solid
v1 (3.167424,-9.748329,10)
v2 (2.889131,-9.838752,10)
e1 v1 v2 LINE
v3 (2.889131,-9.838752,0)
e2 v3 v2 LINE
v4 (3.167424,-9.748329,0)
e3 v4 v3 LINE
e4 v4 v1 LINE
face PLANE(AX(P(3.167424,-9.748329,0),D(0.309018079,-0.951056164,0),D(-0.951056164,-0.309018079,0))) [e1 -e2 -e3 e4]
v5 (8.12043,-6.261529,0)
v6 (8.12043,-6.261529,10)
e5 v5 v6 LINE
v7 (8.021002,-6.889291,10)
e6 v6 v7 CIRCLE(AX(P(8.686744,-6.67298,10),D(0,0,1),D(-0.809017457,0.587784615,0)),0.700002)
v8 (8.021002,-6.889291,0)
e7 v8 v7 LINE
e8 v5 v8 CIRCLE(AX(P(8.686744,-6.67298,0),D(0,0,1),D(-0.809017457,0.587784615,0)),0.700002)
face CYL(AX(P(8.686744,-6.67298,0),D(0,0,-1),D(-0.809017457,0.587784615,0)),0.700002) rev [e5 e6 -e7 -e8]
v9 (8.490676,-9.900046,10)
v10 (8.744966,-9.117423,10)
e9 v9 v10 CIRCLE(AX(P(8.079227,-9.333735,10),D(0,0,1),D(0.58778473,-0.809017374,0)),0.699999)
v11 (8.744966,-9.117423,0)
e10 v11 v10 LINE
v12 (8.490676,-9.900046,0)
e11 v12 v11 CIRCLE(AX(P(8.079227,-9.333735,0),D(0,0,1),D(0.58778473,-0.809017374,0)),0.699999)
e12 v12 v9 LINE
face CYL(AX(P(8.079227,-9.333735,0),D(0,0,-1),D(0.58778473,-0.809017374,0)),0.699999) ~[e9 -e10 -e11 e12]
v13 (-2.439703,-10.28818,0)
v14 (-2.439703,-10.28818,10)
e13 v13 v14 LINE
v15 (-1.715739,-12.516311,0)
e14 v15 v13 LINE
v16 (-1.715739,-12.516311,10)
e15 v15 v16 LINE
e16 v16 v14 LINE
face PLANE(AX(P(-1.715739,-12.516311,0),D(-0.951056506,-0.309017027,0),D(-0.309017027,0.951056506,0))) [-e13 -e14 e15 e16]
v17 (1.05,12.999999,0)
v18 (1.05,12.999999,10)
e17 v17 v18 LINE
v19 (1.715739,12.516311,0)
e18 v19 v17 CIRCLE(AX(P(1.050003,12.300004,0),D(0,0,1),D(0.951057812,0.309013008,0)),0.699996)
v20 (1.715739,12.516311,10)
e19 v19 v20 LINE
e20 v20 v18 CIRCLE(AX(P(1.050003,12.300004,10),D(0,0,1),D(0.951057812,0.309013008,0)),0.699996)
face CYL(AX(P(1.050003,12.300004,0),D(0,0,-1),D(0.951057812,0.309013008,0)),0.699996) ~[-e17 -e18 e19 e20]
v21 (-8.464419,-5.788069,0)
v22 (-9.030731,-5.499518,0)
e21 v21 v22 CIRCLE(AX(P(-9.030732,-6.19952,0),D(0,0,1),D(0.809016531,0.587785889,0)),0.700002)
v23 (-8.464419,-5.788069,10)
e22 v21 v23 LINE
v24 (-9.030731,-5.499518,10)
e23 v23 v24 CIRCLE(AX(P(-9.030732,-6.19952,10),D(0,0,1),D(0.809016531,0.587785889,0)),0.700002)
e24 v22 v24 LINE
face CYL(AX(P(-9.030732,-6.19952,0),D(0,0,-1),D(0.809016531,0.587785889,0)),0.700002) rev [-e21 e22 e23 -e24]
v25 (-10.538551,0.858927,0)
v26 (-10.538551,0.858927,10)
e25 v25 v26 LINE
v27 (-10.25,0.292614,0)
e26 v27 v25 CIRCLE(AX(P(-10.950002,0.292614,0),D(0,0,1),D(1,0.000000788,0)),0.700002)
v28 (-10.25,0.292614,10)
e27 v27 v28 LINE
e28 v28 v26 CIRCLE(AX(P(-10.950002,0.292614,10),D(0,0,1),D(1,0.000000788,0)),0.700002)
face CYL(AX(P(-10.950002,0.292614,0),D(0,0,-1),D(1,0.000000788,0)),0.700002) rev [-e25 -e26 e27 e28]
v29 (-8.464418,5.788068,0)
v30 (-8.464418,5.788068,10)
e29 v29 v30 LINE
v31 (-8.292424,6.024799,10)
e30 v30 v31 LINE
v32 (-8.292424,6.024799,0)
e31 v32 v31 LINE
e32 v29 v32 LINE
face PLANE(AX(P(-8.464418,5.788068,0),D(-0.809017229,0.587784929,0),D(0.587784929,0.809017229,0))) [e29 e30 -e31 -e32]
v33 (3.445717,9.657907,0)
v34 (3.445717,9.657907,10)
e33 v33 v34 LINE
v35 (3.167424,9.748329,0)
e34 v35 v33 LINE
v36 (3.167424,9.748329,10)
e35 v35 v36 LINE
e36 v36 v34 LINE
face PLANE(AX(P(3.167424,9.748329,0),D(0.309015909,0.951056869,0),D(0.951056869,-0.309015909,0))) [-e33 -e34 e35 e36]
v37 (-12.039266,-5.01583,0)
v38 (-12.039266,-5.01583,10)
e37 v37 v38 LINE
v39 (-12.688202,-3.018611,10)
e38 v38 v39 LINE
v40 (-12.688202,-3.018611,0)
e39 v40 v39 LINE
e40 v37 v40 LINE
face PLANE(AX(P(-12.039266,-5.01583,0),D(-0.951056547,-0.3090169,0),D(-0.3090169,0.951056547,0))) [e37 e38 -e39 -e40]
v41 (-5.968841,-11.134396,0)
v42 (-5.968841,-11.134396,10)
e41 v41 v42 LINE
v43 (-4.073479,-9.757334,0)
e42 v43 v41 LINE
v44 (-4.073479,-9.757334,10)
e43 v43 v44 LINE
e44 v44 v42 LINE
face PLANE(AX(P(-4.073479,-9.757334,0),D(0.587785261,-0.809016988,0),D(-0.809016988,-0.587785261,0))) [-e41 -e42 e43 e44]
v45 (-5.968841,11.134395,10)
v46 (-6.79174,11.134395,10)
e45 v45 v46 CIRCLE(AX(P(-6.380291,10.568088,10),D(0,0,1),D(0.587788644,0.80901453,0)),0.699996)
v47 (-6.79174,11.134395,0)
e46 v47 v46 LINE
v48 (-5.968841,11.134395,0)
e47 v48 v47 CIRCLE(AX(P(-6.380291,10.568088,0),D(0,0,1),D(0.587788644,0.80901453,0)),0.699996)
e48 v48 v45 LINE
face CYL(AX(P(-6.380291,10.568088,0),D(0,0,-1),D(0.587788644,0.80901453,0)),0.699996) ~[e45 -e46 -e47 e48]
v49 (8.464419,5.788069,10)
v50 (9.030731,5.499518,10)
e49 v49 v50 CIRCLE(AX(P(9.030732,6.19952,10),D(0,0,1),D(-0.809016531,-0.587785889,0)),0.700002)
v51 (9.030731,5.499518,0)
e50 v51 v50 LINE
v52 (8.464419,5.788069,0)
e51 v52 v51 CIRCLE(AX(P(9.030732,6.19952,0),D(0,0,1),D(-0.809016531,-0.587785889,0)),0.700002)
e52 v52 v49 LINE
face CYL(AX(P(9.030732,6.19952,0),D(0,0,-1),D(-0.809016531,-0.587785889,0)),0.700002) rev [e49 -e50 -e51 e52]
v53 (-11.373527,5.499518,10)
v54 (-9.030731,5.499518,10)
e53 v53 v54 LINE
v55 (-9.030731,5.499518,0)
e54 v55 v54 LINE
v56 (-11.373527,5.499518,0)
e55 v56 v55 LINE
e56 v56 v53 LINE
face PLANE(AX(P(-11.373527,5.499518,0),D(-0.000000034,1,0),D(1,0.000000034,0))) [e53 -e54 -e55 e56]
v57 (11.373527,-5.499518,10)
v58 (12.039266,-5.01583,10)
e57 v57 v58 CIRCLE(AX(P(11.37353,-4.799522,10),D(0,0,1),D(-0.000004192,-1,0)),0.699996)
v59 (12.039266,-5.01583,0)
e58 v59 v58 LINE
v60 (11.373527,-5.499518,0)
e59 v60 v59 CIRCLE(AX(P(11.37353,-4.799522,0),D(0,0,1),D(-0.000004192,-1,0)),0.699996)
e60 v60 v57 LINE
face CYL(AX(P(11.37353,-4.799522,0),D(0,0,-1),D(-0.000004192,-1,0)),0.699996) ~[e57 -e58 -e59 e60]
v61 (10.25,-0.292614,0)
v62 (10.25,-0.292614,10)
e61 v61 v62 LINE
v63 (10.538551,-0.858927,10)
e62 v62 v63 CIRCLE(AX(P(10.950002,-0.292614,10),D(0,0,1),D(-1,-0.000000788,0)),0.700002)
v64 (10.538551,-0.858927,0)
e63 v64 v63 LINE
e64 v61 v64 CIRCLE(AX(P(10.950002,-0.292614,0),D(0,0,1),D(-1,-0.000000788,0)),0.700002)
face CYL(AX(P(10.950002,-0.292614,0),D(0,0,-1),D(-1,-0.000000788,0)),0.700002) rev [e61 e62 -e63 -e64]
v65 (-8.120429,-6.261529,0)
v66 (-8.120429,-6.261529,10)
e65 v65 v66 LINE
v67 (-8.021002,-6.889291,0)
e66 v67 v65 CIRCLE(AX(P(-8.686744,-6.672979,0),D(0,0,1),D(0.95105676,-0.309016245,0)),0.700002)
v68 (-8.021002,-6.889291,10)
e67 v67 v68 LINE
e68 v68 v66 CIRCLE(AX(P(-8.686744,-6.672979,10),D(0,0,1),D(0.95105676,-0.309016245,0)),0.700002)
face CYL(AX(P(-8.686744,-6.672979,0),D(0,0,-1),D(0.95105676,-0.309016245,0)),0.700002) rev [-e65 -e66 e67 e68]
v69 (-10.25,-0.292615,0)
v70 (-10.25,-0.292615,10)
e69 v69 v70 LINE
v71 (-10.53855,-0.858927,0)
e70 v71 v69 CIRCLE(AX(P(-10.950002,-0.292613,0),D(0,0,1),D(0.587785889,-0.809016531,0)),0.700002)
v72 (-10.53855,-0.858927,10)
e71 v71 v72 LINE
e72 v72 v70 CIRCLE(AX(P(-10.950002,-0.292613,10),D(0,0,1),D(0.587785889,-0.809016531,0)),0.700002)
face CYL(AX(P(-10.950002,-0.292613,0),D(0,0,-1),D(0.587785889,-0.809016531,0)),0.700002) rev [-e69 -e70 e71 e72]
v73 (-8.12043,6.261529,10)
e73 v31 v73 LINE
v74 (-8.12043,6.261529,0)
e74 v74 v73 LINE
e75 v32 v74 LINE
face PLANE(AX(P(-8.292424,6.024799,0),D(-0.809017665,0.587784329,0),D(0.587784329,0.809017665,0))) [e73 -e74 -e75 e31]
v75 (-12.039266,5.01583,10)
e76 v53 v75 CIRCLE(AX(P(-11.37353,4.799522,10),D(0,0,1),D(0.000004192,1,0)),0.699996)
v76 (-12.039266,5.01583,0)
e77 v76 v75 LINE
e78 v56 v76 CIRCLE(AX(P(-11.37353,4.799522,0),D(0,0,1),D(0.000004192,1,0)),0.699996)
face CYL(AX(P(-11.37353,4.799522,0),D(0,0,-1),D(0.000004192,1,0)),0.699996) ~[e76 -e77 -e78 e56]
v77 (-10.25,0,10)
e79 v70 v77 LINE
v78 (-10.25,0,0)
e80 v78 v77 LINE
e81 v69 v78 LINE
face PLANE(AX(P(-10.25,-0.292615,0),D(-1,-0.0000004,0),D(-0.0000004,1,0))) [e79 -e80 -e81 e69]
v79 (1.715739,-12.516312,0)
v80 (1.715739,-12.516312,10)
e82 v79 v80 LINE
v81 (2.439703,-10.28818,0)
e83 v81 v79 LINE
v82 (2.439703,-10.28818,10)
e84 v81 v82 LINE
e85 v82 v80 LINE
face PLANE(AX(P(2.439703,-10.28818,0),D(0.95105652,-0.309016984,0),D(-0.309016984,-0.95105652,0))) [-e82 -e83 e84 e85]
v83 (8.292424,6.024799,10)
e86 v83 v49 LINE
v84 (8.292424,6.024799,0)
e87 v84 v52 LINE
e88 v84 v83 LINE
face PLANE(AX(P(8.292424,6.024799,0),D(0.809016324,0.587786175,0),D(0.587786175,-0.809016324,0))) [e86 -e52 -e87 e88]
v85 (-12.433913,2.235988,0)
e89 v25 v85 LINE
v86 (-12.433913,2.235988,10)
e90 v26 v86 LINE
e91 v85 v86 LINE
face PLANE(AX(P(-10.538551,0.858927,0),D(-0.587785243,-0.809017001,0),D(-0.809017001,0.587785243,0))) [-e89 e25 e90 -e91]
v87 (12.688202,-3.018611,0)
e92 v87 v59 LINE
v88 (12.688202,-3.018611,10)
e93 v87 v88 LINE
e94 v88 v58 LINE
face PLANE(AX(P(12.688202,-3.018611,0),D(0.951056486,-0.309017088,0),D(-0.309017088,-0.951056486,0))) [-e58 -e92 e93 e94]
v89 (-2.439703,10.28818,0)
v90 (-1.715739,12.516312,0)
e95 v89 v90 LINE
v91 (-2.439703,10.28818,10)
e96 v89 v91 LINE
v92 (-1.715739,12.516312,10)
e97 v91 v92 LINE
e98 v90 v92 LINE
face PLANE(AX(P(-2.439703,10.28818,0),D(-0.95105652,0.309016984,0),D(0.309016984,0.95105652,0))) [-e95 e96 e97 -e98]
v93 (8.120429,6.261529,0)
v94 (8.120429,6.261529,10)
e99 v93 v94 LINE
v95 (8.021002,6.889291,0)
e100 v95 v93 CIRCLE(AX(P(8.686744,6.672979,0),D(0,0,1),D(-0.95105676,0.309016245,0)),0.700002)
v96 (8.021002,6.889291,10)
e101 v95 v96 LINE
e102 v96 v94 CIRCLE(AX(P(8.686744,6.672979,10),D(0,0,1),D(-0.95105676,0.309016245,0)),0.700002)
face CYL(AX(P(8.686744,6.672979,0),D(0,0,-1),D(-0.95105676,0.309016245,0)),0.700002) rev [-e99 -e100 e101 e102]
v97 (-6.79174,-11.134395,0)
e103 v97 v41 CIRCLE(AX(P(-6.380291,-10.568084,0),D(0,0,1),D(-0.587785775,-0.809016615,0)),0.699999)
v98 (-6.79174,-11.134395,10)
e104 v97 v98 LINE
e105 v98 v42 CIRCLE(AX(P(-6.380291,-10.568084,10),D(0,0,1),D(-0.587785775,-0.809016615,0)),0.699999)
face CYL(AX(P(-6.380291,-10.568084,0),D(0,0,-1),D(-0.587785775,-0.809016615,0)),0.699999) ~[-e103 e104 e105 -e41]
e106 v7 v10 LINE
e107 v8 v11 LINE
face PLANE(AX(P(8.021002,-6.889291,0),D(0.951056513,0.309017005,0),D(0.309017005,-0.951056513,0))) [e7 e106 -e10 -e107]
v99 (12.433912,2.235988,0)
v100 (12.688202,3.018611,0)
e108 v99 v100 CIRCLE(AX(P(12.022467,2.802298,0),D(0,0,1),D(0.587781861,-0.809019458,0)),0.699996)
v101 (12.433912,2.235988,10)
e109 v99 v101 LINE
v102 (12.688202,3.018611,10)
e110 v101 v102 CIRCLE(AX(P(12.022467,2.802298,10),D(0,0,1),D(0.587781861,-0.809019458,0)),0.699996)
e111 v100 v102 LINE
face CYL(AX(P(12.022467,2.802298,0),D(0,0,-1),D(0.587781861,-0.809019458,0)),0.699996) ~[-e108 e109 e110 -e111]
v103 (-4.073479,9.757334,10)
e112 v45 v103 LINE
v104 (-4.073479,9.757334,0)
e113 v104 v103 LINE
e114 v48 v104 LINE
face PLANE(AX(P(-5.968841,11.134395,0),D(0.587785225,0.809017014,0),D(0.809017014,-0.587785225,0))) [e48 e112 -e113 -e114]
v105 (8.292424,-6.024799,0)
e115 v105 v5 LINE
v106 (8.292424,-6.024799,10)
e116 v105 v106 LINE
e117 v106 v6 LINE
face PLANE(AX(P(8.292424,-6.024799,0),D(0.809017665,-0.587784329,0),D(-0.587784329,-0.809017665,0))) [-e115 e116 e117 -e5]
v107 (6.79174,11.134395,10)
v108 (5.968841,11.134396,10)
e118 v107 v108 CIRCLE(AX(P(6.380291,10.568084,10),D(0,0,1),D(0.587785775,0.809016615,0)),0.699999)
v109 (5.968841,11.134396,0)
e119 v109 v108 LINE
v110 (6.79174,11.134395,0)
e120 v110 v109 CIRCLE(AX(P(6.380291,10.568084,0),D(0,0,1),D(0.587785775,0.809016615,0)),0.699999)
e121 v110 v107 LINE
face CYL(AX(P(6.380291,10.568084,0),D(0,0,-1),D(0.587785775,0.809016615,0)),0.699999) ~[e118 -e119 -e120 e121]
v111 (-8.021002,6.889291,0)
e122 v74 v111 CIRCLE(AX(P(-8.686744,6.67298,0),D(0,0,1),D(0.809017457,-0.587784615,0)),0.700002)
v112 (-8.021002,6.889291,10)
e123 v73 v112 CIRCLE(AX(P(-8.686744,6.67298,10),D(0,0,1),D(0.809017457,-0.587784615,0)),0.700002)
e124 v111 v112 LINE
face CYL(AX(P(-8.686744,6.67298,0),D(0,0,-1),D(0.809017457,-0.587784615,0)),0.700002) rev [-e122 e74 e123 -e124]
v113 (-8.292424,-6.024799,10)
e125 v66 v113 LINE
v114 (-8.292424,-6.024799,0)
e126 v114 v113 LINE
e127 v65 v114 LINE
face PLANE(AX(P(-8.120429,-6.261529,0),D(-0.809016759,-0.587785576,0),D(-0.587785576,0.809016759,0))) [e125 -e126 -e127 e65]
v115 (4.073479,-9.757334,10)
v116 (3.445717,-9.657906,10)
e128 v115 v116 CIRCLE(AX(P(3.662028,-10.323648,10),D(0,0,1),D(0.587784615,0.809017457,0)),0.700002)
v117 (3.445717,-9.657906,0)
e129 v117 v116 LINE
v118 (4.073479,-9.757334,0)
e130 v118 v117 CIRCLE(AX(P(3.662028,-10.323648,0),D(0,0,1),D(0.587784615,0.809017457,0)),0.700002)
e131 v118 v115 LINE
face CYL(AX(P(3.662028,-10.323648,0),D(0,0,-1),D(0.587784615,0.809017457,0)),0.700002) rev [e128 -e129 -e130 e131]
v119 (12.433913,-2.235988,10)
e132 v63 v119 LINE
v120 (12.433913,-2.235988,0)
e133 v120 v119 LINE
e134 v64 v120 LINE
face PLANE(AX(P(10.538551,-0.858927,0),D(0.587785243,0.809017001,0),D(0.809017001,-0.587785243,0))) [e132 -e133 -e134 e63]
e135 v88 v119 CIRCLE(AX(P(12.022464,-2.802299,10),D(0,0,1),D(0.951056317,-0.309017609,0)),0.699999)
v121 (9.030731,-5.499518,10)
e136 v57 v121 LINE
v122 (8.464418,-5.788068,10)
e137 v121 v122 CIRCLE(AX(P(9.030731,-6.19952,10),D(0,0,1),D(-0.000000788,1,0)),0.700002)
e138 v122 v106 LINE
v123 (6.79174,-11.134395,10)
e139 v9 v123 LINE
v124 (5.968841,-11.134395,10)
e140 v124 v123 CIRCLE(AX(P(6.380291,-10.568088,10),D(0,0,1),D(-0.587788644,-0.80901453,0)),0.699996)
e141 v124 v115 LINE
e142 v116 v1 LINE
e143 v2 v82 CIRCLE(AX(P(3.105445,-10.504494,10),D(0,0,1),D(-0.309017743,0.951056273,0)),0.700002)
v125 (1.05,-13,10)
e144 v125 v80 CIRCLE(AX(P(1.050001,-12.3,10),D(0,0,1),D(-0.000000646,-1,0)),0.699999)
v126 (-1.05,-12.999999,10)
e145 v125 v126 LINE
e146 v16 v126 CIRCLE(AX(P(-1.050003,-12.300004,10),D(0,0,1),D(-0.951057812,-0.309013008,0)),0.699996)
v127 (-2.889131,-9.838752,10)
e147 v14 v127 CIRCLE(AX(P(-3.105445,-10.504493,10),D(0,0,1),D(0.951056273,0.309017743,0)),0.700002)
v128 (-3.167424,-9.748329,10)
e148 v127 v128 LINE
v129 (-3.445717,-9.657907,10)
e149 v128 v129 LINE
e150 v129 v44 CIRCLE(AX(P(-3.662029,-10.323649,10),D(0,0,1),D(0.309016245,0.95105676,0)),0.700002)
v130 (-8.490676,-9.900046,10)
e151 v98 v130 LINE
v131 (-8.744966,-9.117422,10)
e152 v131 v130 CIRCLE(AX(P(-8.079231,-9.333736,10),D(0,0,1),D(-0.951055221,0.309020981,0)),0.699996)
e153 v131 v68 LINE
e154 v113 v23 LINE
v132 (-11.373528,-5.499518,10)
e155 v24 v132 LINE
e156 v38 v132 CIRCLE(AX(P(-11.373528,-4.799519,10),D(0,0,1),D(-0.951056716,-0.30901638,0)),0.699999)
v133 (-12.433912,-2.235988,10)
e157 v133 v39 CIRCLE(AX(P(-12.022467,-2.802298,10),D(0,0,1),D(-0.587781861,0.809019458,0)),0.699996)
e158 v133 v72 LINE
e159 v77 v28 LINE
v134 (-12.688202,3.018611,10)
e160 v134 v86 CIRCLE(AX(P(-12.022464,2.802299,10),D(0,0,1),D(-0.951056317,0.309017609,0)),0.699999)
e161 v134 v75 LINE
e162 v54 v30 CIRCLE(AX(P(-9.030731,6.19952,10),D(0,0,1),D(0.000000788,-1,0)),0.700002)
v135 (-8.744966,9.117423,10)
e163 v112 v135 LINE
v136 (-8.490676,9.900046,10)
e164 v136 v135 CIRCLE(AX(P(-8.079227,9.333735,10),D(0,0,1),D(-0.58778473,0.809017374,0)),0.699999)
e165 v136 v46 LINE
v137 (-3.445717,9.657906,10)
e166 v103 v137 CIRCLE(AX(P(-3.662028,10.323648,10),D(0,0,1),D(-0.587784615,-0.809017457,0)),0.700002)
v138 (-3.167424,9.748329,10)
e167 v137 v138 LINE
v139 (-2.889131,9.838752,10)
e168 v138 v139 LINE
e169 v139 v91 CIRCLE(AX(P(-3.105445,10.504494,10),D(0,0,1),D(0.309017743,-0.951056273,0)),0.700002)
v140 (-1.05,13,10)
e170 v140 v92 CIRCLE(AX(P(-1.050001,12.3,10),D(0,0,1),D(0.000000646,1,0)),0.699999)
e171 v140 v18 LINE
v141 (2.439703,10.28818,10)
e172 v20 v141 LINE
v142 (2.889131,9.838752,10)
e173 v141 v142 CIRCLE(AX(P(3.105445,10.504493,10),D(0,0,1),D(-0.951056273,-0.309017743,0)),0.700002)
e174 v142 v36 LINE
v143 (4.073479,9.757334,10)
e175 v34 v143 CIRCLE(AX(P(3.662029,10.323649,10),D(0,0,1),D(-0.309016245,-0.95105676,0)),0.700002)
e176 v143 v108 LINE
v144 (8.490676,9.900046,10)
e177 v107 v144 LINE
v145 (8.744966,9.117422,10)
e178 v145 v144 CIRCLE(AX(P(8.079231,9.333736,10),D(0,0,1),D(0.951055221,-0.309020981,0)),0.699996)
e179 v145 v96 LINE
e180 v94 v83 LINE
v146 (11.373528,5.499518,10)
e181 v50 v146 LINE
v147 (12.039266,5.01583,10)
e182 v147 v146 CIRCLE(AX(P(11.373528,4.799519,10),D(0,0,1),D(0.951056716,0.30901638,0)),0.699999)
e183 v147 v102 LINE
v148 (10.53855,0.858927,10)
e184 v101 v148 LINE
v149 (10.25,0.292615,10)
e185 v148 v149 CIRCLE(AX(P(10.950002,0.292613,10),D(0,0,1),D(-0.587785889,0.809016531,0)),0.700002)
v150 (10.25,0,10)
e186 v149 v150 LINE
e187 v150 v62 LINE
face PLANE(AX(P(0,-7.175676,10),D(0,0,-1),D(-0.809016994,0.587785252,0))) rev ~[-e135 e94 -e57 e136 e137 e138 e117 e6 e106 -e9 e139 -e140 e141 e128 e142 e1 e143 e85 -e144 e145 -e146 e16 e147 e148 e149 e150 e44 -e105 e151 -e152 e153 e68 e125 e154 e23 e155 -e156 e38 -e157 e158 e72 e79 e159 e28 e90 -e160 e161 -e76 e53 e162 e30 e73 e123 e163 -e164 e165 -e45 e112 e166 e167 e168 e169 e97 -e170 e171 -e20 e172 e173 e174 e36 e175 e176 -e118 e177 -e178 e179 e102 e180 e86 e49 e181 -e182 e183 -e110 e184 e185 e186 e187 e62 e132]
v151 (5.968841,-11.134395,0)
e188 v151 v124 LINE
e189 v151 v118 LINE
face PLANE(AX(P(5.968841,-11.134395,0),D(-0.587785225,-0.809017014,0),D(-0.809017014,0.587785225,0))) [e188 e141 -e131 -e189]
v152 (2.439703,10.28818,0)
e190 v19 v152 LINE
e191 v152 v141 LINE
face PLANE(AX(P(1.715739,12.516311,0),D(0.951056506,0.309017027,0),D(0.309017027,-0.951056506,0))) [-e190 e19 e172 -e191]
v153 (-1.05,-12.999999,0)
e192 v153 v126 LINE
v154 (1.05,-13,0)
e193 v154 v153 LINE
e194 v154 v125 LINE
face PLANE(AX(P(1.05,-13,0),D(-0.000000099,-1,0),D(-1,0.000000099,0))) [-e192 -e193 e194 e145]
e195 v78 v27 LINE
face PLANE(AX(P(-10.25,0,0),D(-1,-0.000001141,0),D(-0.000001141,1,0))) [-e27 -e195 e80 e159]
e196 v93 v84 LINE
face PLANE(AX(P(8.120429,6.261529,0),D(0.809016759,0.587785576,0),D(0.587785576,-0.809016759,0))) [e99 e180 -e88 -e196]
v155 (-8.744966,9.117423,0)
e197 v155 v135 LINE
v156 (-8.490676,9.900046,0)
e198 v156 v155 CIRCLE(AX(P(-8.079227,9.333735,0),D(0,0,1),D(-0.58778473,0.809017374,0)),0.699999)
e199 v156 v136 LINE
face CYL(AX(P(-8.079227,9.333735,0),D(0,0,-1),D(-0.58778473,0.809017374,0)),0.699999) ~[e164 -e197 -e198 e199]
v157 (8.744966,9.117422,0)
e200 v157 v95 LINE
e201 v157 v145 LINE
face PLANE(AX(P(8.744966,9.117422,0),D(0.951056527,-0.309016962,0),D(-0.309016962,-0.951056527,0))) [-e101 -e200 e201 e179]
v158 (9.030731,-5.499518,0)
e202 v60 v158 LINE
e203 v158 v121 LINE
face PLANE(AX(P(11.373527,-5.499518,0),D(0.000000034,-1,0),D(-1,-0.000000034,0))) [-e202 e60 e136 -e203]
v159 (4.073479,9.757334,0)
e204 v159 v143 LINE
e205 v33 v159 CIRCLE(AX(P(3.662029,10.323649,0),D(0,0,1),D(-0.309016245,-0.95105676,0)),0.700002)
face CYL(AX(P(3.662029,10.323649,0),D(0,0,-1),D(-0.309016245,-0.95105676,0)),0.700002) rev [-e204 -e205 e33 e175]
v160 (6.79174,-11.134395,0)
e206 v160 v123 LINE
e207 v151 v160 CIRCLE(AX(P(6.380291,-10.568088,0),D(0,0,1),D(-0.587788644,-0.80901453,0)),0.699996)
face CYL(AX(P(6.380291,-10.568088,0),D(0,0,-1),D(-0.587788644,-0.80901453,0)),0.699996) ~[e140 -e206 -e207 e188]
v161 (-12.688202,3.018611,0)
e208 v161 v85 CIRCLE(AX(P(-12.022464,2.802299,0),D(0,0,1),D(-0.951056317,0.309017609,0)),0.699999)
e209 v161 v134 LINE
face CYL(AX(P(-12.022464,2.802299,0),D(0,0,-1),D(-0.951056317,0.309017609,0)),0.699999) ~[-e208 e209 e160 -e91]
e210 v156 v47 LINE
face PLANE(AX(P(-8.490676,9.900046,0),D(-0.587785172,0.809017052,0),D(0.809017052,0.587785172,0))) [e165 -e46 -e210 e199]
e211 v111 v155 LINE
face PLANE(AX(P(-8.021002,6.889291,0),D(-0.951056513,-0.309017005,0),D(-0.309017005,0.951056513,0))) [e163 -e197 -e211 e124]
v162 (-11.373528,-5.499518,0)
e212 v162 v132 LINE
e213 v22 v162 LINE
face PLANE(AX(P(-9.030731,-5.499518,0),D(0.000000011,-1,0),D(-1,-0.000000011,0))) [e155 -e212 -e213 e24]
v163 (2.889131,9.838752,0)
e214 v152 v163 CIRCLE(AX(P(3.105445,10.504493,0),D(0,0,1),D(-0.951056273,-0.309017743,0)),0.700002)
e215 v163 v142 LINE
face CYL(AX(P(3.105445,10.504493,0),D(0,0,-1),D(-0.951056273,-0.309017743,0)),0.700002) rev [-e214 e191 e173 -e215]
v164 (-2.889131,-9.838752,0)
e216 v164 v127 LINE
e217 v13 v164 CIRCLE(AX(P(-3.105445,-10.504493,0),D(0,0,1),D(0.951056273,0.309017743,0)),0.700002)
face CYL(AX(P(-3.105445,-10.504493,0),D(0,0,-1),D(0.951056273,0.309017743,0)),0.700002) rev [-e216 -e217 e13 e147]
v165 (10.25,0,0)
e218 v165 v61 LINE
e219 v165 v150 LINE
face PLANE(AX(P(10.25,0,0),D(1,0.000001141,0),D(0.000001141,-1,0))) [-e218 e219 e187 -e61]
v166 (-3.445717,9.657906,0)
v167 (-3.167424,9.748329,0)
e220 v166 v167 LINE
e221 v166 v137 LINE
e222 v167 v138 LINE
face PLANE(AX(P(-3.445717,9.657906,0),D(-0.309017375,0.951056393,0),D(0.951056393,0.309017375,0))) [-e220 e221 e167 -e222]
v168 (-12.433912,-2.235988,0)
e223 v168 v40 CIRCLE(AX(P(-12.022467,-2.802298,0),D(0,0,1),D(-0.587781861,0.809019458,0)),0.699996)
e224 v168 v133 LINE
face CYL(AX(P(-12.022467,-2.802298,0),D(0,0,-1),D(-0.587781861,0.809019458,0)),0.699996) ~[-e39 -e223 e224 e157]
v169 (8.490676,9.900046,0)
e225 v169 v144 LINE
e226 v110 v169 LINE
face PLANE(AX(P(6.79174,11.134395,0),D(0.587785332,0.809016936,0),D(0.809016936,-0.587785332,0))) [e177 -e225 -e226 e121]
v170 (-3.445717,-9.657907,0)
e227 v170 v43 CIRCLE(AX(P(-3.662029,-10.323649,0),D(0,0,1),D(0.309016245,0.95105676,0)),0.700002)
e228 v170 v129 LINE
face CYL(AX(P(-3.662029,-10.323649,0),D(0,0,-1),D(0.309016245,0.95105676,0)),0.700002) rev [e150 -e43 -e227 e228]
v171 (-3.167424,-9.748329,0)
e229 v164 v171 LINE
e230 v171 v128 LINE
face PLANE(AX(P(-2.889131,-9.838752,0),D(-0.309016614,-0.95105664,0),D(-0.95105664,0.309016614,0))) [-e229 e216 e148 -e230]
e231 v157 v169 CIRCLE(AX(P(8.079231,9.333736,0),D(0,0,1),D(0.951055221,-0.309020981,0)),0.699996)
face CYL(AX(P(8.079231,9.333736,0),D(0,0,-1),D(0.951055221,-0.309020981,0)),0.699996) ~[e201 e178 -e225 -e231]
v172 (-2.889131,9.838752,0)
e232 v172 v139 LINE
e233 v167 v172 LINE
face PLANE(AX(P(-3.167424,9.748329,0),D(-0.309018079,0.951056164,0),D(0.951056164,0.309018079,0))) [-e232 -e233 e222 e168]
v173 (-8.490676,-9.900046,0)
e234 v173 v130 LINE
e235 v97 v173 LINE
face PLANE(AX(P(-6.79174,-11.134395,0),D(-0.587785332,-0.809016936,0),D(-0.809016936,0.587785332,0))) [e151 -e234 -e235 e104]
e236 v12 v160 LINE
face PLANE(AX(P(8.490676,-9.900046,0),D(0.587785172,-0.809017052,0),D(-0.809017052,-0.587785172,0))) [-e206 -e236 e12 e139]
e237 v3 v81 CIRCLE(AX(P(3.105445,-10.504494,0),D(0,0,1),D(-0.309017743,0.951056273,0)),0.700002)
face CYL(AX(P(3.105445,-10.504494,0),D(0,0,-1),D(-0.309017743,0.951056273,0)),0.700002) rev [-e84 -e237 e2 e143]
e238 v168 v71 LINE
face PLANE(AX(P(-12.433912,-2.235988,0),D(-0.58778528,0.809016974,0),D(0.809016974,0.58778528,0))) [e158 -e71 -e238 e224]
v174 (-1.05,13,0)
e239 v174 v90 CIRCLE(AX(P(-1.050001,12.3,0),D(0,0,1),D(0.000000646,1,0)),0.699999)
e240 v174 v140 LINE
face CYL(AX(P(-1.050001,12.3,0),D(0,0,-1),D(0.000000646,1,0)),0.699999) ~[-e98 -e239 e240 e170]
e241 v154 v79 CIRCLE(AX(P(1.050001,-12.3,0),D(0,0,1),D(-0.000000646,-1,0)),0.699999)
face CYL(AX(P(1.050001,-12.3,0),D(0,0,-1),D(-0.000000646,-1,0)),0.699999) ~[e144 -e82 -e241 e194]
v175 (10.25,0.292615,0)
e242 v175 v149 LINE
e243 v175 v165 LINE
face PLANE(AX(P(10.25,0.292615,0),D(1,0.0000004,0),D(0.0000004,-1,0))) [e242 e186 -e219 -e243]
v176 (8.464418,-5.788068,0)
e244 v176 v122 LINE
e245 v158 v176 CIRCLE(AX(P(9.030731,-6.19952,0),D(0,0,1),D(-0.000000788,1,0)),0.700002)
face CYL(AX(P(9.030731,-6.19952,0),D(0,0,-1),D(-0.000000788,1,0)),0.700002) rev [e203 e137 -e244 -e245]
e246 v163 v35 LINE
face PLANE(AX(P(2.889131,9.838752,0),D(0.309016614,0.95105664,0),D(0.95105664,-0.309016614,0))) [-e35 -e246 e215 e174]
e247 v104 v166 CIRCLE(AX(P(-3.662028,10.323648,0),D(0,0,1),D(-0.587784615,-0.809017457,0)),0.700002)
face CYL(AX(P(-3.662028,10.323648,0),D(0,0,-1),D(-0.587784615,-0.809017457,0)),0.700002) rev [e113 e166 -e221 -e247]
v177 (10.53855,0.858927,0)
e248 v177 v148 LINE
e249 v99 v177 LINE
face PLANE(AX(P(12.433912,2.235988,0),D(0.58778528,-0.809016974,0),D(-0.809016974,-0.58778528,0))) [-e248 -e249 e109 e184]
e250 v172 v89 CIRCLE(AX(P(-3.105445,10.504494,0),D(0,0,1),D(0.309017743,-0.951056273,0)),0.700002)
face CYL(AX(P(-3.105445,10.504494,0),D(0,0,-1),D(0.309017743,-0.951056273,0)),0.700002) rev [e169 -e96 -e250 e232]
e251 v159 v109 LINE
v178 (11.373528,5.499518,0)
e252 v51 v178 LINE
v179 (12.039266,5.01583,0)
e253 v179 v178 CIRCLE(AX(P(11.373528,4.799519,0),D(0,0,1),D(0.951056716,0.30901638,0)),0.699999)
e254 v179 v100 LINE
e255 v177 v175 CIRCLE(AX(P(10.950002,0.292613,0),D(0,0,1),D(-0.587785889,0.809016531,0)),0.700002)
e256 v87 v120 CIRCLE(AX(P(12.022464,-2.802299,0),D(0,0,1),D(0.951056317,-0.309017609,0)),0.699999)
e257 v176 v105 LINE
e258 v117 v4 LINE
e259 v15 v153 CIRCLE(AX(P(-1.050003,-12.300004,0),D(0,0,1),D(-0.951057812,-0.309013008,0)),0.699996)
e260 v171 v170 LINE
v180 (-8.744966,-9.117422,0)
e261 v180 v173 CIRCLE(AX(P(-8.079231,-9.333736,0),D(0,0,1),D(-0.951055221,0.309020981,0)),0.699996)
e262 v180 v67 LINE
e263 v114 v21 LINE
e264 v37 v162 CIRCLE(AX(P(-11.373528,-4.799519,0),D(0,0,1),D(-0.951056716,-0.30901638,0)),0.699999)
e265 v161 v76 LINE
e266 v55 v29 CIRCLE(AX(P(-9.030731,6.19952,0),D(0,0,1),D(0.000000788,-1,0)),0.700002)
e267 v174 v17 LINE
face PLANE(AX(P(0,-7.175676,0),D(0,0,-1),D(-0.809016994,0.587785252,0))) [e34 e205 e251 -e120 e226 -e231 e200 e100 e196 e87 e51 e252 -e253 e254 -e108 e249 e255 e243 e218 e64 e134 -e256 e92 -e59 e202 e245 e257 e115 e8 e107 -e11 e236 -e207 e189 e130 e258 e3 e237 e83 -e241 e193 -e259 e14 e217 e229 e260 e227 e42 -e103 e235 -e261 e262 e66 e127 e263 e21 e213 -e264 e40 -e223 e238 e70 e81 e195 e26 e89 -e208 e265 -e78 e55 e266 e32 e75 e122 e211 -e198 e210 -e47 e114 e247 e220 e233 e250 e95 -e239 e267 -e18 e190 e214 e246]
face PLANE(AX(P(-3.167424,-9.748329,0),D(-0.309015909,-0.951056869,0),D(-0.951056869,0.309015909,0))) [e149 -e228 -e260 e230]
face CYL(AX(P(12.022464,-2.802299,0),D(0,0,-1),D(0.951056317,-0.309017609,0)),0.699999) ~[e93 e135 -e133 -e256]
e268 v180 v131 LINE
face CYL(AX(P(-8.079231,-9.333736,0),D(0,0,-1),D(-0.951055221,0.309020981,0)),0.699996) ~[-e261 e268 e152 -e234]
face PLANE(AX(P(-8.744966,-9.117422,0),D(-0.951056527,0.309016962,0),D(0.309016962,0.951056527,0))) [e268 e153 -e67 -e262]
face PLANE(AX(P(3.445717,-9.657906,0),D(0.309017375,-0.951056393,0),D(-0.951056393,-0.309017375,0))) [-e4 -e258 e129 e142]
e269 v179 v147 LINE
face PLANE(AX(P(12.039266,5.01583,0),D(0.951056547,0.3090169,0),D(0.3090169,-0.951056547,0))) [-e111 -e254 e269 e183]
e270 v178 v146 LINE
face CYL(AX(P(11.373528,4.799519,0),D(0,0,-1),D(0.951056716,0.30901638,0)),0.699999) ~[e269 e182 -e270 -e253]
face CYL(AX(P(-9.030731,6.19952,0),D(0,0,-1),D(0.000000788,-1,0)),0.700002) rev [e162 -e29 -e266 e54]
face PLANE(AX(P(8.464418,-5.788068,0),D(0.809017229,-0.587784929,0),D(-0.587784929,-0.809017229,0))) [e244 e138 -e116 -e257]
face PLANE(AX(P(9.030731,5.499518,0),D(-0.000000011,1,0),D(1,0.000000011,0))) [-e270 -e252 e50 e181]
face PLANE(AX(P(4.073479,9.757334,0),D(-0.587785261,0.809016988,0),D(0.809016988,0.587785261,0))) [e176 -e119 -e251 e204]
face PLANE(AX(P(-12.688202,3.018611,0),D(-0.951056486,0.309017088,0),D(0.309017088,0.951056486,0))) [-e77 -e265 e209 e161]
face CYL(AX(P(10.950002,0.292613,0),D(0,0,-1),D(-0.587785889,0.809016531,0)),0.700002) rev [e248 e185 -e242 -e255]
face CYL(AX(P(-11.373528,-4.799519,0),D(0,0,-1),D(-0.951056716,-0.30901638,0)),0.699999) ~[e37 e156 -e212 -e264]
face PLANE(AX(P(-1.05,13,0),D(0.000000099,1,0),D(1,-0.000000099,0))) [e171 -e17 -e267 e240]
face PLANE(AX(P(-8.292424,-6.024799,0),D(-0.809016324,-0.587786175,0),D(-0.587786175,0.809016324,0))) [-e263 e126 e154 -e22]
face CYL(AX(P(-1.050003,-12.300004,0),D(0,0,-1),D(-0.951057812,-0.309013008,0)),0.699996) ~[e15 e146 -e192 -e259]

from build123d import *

# Parameters (mm, degrees)
PAD_DEPTH          = 10
POLARPATTERN_COUNT = 10


with BuildPart() as part:
    # Sketch002 → Pad (new body)
    with BuildSketch(Plane.XY):
        with BuildLine():
            Line((8.292424, -6.024799), (8.12043, -6.261529))
            ThreePointArc((8.12043, -6.261529), (7.99536, -6.563475), (8.021002, -6.889291))
            Line((8.021002, -6.889291), (8.744966, -9.117423))
            ThreePointArc((8.490676, -9.900046), (8.744966, -9.550046), (8.744966, -9.117423))
            Line((8.490676, -9.900046), (6.79174, -11.134395))
            ThreePointArc((5.968841, -11.134395), (6.380291, -11.268084), (6.79174, -11.134395))
            Line((5.968841, -11.134395), (4.073479, -9.757334))
            ThreePointArc((4.073479, -9.757334), (3.771533, -9.632264), (3.445717, -9.657906))
            Line((3.445717, -9.657906), (3.167424, -9.748329))
            Line((0, 0), (3.167424, -9.748329))
            Line((0, 0), (8.292424, -6.024799))
        make_face()
    pad = extrude(amount=PAD_DEPTH)

    # PolarPattern: Pad ×10 about axis
    polarpattern_axis = Axis((0, 0, 0), (0, 0, 1))
    for i in range(1, POLARPATTERN_COUNT):
        add(pad.rotate(polarpattern_axis, i * 360 / POLARPATTERN_COUNT))


solid = part.part
